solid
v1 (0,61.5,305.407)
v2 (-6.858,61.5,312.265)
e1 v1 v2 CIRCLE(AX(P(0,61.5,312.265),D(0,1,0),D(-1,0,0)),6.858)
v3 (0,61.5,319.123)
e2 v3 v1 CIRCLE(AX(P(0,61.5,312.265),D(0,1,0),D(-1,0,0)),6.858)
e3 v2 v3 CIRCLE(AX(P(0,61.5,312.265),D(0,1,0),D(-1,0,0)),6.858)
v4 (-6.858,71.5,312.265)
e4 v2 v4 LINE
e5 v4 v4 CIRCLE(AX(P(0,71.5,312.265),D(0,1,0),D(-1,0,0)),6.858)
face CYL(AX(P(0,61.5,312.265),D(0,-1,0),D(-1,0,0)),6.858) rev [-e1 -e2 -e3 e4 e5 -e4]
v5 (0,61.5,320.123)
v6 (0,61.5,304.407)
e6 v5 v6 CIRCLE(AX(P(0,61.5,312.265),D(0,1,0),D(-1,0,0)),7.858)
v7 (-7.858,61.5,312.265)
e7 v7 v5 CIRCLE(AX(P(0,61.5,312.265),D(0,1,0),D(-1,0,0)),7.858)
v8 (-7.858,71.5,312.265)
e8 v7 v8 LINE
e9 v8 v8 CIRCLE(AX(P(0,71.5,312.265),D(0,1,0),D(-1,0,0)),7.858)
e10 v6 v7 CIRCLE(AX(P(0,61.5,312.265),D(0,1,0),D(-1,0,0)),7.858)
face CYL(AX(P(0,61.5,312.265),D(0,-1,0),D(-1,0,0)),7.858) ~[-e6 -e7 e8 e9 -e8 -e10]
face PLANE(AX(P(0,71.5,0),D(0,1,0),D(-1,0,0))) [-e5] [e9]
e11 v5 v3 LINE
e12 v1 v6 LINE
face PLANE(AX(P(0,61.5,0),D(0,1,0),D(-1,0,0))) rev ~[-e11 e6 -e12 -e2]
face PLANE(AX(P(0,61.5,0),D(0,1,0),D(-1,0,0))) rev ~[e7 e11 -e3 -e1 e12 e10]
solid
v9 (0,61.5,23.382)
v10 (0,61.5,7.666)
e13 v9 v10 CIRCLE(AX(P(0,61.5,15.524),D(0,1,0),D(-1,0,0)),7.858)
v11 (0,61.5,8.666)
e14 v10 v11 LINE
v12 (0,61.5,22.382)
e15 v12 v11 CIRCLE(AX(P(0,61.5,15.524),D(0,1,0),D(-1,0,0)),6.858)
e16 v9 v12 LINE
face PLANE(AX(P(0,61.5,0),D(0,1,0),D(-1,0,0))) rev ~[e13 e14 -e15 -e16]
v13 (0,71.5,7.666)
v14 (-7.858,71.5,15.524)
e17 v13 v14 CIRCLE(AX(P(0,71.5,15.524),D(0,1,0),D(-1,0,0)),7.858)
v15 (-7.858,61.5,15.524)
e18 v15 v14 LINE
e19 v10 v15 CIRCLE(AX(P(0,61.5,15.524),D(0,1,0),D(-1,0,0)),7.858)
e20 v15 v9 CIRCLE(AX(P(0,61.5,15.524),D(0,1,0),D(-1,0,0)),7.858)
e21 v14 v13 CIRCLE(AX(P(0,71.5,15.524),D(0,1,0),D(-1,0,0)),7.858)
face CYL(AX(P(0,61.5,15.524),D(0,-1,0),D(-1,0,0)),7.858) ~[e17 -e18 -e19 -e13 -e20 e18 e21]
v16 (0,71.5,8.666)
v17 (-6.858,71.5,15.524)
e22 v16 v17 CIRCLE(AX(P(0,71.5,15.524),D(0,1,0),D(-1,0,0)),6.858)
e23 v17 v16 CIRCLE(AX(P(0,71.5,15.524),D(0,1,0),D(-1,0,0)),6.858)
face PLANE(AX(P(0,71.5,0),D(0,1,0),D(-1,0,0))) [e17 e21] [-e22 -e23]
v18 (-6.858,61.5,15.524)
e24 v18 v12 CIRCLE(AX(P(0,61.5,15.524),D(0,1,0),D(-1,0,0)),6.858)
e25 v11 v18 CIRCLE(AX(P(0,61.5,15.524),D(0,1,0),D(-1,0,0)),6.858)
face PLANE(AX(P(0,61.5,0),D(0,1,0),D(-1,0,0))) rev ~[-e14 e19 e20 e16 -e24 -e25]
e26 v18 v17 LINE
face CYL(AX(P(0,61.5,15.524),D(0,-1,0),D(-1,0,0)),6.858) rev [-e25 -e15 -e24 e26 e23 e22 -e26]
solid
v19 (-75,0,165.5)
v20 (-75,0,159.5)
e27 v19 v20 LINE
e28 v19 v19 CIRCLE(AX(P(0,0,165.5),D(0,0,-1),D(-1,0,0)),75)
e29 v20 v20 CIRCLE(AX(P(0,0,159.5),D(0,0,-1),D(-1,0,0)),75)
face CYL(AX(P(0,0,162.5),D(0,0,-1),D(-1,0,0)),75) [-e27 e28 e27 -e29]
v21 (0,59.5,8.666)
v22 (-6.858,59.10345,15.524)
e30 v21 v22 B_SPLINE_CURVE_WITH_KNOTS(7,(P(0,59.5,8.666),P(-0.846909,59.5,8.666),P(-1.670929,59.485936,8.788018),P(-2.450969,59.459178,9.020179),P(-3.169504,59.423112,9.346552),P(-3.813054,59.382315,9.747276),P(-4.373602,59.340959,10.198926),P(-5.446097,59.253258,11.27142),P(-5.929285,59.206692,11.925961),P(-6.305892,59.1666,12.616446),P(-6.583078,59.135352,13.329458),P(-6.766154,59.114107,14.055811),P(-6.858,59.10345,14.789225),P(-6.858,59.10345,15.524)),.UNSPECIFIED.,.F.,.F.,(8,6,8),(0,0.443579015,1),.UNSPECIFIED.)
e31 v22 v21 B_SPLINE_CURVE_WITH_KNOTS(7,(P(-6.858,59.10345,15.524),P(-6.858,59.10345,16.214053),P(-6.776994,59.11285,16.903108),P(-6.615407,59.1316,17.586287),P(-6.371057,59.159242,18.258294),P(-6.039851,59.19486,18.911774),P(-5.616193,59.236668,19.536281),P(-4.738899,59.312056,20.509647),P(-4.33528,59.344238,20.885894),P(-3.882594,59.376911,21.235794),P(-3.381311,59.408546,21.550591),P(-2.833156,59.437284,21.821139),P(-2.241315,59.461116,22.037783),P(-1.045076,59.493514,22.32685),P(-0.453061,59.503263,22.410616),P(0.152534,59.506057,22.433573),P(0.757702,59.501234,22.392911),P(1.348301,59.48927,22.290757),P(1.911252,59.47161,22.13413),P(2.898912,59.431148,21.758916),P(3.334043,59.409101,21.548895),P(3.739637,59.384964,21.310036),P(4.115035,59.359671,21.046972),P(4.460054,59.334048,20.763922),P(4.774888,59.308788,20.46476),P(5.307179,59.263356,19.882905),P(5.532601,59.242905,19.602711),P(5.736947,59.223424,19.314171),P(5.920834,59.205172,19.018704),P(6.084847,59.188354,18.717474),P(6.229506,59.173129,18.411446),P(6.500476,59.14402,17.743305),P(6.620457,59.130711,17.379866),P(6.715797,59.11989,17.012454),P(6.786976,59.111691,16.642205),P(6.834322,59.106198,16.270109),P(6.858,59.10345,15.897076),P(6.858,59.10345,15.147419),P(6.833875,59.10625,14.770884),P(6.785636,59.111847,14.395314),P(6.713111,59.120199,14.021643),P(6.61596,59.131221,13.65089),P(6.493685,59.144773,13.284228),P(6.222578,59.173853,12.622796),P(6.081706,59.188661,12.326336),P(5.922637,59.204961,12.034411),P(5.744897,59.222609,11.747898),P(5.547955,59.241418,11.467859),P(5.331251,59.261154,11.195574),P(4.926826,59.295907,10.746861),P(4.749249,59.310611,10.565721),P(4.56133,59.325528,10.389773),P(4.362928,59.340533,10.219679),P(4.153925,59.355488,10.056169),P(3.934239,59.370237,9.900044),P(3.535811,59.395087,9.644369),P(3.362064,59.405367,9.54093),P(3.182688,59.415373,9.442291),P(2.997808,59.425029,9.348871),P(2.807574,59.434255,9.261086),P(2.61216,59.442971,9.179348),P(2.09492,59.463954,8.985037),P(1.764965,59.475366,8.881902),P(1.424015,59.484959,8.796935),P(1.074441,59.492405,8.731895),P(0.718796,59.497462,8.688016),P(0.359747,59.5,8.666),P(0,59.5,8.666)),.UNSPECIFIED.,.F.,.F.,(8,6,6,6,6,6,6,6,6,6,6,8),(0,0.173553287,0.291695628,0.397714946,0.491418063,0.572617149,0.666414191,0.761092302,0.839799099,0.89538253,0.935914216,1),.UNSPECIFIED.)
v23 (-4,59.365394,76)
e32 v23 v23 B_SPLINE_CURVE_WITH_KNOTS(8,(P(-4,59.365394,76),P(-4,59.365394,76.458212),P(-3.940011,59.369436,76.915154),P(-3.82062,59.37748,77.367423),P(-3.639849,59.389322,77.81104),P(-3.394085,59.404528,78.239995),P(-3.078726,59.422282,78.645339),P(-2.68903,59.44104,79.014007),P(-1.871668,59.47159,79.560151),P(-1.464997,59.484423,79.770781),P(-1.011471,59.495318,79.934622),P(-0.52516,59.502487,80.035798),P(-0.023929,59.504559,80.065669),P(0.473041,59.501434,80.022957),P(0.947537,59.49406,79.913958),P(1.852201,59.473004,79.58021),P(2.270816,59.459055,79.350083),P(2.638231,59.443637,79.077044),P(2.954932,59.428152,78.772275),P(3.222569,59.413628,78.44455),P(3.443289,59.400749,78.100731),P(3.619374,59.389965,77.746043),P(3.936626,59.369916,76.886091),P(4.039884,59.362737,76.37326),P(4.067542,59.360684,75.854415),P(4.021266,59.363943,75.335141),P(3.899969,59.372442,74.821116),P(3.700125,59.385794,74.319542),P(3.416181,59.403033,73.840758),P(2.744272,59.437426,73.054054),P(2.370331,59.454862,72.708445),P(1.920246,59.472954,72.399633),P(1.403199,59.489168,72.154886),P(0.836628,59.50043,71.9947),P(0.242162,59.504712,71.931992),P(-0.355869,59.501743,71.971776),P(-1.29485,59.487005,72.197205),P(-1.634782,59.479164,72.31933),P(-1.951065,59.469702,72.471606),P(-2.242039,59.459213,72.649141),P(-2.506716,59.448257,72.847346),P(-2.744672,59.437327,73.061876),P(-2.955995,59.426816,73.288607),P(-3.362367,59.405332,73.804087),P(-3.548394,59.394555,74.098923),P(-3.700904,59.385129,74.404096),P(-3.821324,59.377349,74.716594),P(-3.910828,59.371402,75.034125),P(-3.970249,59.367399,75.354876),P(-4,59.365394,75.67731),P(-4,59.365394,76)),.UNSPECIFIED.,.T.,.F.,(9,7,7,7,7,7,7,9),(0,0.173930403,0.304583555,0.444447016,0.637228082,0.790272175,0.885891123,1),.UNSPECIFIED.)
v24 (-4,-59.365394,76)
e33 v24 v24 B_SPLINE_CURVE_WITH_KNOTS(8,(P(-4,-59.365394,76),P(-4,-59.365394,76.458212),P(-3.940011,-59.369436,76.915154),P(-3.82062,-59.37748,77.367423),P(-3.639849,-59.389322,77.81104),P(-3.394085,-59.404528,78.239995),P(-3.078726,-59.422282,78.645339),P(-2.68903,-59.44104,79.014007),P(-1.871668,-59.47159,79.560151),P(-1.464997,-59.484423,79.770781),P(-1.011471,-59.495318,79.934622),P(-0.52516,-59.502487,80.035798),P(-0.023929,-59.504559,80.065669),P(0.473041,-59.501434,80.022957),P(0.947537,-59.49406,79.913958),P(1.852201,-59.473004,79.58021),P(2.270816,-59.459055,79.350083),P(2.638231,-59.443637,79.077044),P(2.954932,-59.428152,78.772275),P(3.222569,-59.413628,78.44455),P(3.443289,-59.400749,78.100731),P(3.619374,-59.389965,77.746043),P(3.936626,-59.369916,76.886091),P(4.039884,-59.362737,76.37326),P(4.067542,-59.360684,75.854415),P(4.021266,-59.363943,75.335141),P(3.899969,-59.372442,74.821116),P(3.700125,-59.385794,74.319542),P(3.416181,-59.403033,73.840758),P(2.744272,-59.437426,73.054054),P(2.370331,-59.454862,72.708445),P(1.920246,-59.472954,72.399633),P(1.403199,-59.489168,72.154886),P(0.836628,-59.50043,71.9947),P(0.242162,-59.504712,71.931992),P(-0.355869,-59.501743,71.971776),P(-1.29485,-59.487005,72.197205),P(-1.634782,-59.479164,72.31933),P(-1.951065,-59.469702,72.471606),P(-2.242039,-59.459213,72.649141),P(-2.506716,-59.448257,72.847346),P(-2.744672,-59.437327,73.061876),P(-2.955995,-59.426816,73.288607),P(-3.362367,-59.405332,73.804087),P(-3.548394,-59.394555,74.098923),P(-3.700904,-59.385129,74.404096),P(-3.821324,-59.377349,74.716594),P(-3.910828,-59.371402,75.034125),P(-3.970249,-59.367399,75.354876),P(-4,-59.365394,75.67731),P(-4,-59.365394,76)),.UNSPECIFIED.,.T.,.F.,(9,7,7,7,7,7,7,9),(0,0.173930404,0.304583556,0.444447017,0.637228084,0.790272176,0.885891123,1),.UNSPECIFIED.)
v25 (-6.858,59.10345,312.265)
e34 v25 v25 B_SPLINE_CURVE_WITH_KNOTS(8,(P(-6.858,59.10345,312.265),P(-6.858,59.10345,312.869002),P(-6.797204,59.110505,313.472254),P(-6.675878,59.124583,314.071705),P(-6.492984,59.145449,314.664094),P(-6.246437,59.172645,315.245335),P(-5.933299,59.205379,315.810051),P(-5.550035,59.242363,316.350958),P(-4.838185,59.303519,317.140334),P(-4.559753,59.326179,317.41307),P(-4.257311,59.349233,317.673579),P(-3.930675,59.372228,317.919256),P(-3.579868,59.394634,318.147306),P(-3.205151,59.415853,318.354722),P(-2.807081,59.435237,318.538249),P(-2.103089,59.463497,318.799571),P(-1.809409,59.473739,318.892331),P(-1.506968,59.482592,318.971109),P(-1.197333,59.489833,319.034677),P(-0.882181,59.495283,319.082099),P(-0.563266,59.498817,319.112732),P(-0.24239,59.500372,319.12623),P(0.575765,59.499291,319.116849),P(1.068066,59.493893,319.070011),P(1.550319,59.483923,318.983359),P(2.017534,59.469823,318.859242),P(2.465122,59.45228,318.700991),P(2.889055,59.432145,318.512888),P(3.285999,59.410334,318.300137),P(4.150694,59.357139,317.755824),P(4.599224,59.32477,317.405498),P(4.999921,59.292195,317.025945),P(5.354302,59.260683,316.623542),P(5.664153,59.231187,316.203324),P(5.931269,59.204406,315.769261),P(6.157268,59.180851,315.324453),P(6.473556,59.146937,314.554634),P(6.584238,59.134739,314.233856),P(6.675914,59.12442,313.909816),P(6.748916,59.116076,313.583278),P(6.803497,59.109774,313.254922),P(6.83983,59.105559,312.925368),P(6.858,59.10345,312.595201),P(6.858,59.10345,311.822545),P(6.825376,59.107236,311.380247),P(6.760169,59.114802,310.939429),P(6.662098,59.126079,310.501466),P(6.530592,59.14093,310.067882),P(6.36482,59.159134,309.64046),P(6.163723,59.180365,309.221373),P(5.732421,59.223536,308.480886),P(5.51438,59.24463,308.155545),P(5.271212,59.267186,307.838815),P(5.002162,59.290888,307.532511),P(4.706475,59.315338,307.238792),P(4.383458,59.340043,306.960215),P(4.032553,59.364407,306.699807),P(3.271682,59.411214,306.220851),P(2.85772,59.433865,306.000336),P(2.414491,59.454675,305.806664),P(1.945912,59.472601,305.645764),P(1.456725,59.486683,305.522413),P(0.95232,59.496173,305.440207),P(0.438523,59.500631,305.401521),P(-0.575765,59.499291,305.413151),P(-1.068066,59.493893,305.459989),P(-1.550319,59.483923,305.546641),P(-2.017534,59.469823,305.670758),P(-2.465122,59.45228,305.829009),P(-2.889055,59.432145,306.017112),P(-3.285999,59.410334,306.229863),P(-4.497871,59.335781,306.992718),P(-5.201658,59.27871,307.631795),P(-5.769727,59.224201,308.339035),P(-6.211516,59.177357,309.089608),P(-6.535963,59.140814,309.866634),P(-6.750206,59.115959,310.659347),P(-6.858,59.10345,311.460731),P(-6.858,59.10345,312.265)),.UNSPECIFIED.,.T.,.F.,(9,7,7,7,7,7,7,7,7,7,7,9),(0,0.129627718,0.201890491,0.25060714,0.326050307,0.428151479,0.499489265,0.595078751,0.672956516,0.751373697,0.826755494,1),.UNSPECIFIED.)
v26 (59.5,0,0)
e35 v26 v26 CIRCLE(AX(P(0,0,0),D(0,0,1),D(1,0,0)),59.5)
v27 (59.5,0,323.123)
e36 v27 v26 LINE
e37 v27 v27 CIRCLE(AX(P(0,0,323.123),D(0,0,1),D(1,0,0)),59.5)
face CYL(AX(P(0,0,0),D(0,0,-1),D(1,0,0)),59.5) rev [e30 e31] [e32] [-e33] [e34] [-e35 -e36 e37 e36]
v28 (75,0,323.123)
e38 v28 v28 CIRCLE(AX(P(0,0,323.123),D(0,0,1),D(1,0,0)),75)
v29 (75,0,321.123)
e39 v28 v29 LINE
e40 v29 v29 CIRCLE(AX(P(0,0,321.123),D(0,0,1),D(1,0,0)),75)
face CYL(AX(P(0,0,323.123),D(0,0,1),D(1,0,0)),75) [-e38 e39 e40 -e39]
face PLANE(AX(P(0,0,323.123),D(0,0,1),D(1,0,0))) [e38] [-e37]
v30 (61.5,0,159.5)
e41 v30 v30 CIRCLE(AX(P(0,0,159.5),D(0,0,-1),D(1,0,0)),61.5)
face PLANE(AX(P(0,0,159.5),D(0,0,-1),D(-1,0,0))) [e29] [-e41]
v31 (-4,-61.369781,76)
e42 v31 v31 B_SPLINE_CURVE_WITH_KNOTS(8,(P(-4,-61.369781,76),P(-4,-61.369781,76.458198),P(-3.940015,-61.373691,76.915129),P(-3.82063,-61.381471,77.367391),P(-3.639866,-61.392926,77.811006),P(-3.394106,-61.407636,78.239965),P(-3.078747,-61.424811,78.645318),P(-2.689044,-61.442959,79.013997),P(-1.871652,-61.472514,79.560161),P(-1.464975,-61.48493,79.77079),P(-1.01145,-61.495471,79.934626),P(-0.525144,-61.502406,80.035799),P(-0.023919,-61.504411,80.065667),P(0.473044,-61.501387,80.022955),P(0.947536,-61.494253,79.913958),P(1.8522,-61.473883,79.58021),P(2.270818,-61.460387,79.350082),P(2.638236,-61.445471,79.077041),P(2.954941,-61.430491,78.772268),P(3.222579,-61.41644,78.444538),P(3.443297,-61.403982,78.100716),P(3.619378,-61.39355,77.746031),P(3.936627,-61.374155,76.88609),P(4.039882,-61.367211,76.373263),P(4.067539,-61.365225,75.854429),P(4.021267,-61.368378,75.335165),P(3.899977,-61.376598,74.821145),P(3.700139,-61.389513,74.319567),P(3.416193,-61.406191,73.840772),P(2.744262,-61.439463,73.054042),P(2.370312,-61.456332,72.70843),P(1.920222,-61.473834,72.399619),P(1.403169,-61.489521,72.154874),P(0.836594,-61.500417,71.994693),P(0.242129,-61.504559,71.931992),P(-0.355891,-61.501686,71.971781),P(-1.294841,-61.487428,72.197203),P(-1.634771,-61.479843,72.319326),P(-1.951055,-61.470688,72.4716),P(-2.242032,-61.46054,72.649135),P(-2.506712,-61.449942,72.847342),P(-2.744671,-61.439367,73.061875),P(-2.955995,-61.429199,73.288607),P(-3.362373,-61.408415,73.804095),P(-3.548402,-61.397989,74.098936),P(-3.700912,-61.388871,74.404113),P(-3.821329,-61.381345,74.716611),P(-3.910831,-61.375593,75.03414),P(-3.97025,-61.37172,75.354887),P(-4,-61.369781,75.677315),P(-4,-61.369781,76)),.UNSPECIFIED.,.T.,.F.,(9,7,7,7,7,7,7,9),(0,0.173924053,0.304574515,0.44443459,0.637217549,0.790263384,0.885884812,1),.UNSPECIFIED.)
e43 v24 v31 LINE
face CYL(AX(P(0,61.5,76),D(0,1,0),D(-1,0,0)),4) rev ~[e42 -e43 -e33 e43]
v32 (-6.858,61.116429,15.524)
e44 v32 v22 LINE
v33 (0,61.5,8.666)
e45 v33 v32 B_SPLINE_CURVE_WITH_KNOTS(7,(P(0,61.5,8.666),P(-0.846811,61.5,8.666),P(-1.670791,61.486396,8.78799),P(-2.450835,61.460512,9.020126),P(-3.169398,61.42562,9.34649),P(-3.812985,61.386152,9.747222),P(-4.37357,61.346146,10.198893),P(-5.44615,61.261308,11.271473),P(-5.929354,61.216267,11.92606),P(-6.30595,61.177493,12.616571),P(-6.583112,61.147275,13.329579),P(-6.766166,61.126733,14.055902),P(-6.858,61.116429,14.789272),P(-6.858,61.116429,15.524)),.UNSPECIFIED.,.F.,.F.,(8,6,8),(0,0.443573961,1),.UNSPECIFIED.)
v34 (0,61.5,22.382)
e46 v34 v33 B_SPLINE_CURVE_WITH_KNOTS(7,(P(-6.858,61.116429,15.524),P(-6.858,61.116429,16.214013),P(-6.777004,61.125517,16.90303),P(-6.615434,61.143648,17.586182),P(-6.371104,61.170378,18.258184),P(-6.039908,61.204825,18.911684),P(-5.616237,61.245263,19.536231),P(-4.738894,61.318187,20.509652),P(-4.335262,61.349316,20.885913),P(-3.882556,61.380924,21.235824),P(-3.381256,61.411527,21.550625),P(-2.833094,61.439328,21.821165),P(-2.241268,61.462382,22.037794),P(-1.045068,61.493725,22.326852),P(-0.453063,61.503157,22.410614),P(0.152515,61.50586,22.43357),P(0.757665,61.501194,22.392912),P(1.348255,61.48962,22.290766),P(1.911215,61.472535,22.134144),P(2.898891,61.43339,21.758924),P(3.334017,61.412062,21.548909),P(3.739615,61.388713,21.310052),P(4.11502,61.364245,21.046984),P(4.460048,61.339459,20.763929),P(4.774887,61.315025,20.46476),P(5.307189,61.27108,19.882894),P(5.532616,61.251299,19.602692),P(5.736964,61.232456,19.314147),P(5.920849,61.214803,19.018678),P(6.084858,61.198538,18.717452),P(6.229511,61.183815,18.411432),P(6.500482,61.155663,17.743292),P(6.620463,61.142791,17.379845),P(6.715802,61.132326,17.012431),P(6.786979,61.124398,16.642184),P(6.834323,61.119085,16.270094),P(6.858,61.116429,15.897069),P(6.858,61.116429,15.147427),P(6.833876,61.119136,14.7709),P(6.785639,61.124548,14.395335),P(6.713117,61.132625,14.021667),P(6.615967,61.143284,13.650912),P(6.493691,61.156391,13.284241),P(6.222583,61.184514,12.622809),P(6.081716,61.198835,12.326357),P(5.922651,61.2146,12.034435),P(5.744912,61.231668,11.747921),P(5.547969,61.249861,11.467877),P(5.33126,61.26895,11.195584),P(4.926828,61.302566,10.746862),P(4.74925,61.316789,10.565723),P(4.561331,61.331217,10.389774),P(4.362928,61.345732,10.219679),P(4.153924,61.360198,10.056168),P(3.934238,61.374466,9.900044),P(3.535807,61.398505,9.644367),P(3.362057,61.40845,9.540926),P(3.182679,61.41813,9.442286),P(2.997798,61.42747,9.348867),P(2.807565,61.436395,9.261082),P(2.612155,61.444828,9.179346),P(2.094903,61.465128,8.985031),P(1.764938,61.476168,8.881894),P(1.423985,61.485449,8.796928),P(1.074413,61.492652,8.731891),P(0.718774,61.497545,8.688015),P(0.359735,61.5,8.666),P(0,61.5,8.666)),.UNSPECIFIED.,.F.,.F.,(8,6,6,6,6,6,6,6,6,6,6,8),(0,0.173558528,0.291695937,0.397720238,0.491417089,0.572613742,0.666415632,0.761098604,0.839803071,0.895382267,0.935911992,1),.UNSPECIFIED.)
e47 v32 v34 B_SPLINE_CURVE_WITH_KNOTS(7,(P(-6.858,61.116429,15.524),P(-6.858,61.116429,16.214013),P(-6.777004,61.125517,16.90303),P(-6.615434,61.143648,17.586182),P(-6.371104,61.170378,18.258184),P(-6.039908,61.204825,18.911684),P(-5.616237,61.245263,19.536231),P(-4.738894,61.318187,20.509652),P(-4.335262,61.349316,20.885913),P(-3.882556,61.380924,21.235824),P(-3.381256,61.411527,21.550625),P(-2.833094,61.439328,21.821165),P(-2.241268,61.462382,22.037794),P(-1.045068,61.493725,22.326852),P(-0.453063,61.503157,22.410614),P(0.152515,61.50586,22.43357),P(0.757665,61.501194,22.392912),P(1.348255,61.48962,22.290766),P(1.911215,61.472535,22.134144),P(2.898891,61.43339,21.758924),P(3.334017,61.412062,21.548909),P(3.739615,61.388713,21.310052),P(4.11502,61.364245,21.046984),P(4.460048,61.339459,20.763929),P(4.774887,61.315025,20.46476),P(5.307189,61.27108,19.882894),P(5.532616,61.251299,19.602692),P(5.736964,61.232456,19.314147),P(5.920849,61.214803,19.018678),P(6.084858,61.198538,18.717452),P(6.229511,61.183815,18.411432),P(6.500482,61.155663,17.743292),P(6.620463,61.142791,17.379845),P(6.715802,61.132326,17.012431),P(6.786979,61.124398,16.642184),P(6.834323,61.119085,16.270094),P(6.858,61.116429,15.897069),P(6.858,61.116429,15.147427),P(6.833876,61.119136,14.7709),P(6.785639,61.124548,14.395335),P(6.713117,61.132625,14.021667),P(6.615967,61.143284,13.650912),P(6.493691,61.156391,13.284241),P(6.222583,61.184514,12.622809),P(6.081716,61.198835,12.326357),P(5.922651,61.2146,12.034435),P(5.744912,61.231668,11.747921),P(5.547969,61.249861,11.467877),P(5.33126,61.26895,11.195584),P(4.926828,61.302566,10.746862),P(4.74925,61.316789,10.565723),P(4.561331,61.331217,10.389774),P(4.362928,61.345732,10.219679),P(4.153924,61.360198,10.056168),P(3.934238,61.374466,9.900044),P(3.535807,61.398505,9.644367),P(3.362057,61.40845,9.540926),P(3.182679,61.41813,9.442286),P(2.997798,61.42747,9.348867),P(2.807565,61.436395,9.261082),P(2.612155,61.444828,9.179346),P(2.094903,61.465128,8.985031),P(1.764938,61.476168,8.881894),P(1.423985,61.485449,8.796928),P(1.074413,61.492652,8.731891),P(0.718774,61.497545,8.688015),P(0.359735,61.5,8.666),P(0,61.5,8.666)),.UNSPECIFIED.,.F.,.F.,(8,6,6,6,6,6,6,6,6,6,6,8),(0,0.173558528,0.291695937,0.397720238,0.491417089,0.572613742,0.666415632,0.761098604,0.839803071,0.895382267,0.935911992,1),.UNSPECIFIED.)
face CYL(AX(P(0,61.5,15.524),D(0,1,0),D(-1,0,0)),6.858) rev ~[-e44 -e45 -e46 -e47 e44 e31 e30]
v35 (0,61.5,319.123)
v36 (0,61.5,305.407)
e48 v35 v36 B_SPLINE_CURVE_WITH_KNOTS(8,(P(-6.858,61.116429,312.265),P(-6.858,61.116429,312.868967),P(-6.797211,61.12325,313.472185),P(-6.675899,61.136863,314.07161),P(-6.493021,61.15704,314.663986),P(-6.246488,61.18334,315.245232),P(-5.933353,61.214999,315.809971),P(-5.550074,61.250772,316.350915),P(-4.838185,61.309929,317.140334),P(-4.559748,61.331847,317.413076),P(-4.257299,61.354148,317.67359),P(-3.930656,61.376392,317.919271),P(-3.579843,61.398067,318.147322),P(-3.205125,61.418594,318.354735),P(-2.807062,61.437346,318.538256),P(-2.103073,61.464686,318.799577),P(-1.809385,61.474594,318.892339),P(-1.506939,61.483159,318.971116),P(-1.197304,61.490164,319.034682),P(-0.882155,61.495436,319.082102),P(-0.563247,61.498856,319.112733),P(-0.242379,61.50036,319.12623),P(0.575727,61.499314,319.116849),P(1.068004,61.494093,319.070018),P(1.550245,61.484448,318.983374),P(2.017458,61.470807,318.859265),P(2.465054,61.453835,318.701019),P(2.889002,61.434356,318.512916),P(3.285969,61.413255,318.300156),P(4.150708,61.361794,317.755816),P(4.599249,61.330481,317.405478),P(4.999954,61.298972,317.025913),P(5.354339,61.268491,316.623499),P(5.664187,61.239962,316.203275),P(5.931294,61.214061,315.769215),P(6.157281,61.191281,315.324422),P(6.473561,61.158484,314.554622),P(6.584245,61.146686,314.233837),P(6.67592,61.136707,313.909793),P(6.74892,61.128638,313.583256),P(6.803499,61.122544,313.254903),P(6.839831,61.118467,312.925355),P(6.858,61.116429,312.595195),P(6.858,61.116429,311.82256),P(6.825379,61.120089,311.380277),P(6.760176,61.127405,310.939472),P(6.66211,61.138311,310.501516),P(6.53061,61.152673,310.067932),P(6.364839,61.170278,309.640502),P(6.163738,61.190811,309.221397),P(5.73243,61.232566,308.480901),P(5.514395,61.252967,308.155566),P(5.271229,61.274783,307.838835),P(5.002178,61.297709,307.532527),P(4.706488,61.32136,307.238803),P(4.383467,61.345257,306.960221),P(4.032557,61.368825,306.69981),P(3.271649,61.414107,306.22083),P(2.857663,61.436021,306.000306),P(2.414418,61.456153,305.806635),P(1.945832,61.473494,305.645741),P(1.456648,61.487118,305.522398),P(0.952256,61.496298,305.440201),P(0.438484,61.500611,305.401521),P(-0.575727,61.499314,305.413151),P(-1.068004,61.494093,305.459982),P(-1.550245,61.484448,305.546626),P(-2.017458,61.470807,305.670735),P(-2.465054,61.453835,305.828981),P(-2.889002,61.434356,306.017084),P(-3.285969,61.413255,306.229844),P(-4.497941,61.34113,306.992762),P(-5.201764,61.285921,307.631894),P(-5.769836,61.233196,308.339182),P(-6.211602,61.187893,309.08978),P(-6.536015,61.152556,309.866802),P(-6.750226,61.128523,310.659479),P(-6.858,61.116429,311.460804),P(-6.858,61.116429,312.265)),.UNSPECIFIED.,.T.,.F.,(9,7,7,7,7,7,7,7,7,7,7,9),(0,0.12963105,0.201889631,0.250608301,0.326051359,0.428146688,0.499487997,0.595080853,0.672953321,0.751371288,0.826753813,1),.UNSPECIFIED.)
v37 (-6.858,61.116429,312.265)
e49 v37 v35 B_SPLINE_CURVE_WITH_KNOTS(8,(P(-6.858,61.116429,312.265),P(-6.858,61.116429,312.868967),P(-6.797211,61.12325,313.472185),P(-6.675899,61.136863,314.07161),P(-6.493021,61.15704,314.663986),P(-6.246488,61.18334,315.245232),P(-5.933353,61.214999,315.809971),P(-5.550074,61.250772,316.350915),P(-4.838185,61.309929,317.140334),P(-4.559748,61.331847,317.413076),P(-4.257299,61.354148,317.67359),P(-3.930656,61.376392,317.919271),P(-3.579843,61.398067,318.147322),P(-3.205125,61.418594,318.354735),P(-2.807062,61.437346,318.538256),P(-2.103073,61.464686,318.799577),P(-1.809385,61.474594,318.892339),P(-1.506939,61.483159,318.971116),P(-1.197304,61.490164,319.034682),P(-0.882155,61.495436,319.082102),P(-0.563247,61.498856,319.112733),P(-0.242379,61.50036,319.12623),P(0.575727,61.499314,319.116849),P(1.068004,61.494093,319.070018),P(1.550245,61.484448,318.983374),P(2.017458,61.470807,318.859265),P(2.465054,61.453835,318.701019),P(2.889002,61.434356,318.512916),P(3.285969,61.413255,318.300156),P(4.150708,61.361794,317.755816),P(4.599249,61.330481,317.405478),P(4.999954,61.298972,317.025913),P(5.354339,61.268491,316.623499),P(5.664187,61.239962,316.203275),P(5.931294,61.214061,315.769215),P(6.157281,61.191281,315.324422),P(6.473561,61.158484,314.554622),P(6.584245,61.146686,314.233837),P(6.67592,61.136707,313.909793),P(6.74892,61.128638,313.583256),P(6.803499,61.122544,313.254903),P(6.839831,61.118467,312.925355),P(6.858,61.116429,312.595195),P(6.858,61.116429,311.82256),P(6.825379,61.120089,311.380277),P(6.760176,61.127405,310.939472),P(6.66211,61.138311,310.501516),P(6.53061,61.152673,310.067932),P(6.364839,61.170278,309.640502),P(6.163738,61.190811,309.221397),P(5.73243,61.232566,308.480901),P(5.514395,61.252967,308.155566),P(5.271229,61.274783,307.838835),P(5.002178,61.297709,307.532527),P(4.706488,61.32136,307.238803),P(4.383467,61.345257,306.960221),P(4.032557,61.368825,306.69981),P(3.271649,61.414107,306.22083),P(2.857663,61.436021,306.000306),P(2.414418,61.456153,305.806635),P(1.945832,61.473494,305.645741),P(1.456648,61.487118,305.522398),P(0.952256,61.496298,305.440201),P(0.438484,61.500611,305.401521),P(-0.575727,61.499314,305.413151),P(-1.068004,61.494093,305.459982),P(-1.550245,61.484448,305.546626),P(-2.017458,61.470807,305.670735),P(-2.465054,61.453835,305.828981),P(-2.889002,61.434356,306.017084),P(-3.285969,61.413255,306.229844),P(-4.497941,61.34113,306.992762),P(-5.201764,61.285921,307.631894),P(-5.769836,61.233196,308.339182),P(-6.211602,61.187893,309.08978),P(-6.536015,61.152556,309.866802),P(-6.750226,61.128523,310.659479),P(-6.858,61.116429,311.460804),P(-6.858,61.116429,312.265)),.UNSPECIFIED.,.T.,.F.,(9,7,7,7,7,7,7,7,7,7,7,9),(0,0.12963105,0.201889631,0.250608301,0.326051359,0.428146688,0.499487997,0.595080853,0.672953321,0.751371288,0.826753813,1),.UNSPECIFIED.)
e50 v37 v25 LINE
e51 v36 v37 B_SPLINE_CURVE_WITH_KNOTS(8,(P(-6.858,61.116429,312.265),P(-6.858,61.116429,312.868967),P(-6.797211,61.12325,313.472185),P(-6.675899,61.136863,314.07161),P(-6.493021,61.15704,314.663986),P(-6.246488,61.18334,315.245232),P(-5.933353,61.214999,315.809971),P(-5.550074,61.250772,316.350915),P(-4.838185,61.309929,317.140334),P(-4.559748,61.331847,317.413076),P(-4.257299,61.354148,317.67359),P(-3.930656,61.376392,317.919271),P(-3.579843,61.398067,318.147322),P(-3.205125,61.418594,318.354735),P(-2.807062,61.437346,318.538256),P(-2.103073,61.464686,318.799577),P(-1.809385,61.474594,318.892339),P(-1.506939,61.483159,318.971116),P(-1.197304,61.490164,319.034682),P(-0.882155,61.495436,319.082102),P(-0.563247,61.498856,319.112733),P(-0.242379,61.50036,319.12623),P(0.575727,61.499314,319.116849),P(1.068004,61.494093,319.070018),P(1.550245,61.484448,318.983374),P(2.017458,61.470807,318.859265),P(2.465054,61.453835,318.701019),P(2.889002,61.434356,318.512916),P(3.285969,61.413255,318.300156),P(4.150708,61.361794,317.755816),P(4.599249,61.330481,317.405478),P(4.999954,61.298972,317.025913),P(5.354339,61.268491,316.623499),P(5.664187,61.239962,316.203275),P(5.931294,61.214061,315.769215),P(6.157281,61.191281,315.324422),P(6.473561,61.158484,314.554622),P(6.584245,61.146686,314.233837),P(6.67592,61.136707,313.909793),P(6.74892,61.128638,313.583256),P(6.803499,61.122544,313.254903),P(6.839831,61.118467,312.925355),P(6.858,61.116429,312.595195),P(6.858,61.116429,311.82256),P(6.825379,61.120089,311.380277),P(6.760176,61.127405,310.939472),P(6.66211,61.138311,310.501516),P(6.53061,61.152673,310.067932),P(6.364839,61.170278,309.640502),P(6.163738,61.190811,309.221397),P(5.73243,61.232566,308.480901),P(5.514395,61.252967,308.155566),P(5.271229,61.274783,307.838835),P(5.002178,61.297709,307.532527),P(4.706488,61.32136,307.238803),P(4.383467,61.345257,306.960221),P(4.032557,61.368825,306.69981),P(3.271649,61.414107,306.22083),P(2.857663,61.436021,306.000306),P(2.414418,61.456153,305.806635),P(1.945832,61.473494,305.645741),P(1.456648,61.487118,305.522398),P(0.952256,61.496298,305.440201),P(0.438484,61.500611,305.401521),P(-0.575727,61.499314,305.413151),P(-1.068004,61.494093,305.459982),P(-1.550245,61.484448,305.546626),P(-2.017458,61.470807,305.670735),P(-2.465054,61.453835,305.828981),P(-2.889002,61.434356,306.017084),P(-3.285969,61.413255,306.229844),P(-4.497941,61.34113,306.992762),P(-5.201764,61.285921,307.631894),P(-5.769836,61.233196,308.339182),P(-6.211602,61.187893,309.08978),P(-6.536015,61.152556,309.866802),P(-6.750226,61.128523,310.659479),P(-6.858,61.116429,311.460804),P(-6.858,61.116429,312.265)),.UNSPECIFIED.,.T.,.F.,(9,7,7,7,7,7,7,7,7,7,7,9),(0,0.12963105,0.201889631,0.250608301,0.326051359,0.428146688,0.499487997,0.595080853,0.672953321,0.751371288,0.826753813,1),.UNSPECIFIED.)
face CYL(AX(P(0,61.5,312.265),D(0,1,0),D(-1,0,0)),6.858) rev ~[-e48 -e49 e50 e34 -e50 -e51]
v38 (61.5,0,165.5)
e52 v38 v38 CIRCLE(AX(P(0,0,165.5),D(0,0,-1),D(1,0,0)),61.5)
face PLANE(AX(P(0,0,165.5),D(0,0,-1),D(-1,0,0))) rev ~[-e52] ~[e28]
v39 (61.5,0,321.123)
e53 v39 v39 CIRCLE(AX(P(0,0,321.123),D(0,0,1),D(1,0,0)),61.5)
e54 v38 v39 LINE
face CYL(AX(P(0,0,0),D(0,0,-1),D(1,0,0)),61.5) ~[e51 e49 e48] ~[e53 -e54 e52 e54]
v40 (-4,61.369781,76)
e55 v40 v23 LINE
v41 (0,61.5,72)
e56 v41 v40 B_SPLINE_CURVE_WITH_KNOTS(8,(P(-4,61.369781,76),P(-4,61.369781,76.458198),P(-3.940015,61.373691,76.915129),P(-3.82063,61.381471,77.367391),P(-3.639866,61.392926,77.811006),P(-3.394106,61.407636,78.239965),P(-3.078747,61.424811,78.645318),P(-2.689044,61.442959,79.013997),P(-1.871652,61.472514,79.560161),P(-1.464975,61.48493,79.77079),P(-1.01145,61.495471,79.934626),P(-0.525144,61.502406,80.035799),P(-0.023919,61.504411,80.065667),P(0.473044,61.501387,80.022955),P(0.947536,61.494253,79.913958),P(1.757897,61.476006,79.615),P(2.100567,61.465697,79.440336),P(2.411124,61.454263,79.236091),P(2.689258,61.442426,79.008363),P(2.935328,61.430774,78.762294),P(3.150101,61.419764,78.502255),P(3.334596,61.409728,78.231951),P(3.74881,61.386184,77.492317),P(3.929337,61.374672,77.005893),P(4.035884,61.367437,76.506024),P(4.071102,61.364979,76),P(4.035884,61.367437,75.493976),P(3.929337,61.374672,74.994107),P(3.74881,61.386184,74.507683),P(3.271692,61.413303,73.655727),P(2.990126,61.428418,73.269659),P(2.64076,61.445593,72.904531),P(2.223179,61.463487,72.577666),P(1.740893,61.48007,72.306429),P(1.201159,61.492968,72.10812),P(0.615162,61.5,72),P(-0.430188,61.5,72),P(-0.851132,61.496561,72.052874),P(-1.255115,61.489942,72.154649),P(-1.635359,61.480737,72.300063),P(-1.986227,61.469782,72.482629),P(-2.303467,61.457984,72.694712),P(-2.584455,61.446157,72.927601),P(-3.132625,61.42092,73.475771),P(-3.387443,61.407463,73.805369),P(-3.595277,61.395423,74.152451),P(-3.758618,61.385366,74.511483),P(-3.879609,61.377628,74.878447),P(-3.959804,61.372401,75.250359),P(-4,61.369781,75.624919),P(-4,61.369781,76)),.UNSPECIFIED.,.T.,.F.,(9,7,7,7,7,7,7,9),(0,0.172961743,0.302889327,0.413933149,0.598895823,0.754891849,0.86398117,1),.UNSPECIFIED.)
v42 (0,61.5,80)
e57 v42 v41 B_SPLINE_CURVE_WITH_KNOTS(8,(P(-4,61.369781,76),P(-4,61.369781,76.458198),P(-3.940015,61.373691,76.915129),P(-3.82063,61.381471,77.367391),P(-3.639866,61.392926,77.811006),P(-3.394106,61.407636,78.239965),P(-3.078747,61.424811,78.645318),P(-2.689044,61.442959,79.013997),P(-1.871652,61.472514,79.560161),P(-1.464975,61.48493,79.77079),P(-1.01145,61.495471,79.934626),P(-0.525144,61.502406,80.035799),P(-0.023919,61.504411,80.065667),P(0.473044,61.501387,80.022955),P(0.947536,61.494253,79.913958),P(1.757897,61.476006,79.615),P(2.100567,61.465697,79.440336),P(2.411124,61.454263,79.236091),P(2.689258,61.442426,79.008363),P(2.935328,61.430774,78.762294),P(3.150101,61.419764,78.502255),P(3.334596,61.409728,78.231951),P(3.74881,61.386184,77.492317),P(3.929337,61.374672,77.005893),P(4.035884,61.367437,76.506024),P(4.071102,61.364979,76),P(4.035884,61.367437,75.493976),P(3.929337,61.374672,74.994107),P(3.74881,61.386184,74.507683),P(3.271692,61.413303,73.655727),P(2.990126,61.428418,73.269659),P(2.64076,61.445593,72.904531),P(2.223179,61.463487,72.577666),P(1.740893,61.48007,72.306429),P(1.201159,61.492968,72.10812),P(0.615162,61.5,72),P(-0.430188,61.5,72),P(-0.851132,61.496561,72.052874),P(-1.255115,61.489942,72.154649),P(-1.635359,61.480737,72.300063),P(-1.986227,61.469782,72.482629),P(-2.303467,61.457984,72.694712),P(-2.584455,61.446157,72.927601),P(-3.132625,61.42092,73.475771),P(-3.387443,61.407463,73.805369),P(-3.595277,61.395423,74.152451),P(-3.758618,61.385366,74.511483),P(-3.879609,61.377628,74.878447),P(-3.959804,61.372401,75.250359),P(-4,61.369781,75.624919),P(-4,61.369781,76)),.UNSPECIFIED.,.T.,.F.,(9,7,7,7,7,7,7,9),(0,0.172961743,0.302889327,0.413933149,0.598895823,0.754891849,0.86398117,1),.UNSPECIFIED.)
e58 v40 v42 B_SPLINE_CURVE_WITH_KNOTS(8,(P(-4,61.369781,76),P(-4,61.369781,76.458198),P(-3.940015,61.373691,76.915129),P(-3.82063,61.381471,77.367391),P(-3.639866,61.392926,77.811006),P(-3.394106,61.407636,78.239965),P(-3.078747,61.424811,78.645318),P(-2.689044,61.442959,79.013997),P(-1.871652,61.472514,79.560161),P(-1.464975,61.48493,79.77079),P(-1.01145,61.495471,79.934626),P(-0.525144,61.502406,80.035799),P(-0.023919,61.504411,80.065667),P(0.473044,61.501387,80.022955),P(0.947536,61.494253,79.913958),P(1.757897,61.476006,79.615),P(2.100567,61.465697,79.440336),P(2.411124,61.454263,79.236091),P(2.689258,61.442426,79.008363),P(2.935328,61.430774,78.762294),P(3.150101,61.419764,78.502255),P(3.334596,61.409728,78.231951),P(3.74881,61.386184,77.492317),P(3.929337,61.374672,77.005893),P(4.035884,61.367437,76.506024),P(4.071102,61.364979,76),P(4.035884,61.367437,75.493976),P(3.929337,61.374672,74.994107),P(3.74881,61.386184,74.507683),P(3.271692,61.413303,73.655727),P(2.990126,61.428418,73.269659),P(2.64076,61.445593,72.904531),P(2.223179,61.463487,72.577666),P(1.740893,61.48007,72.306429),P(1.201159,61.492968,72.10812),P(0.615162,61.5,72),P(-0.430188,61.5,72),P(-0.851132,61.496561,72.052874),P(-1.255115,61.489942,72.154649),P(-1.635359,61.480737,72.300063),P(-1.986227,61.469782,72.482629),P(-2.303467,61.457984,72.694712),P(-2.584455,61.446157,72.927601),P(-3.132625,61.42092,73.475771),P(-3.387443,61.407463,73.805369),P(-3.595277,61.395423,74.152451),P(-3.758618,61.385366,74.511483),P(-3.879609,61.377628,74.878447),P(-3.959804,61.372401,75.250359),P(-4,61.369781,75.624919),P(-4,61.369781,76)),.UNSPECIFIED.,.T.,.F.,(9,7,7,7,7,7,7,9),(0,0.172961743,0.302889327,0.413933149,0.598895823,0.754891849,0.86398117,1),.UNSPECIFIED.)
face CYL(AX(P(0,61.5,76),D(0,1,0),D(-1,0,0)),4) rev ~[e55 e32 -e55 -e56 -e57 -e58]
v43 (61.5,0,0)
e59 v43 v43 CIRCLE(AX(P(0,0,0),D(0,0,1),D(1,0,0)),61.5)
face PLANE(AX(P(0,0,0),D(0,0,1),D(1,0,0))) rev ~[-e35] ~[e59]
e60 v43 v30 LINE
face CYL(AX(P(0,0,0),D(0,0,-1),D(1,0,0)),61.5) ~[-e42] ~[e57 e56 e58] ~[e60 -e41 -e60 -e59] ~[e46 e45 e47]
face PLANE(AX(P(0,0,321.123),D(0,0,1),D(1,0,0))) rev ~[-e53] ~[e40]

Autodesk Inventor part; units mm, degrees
ref_plane "YZ Plane" through (0, 0, 0) normal (1, 0, 0) x (0, 1, 0)
ref_plane "XY Plane" through (0, 0, 0) normal (0, 0, 1) x (1, 0, 0)
sketch "Sketch1" plane through (0, 0, 0) normal (0, 0, 1) x (1, 0, 0)
  circle A0 centre (0, 0) radius 59.5
  circle A1 centre (0, 0) radius 61.5
  dimension "d0" = 119
  dimension "d1" = 123
extrude "Extrusion1" add sketch "Sketch1" along normal blind 323.123
ref_plane "Work Plane1" through (0, 61.5, 0) normal (0, 1, 0) x (-1, 0, 0)
sketch "Sketch2" plane through (0, 61.5, 0) normal (0, 1, 0) x (-1, 0, 0)
  line L0 (61.5, 0) -> (-61.5, 0) projected
  line L1 (0, 0) -> (0, 4)
  line L2 (0, 4) -> (0, 8.666)
  circle A0 centre (0, 15.524) radius 6.858
  circle A1 centre (0, 15.524) radius 7.858
  dimension "d6" = 4
  dimension "d7" = 4.666
  dimension "d8" = 13.716
  dimension "d9" = 6.858
  dimension "d33" = 15.716
extrude "Extrusion2" cut sketch "Sketch2" against normal blind 23 contours A0
sketch "Sketch3" plane through (0, 61.5, 0) normal (0, 1, 0) x (-1, 0, 0)
  line L0 (0, 0) -> (0, 323.123) construction
  line L1 (-59.5, 323.123) -> (59.5, 323.123) projected
  line L2 (0, 323.123) -> (0, 315.123) construction
  circle A0 centre (0, 312.265) radius 6.858
  circle A1 centre (0, 312.265) radius 7.858
  point P0 (0, 319.123)
  dimension "d12" = 8
  dimension "d13" = 13.716
  dimension "d14" = 6.858
  dimension "d36" = 15.716
extrude "Extrusion3" cut sketch "Sketch3" against normal blind 3 contours A0
thread "Thread1" size "M14x1.25" class "6H" standard "ANSI Metric M Profile" full length
thread "Thread2" size "M14x1.25" class "6H" standard "ANSI Metric M Profile" full length
sketch "Sketch4" plane through (0, 61.5, 0) normal (0, 1, 0) x (-1, 0, 0)
  point P0 (0, 0)
sketch "Sketch5" plane through (0, 61.5, 0) normal (0, 1, 0) x (-1, 0, 0)
  line L0 (0, 0) -> (0, 76) construction
  circle A0 centre (0, 76) radius 4
  dimension "d21" = 76
  dimension "d22" = 8
extrude "Extrusion4" cut sketch "Sketch5" against normal through all
thread "Thread3" size "M8x1.25" class "6H" standard "ANSI Metric M Profile" full length
thread "Thread4" size "M8x1.25" class "6H" standard "ANSI Metric M Profile" full length
sketch "Sketch6" plane through (0, 0, 323.123) normal (0, 0, 1) x (1, 0, 0)
  circle A0 centre (0, 0) radius 75
  circle A1 centre (0, 0) radius 61.5
  dimension "d29" = 150
  dimension "d30" = 123
extrude "Extrusion5" add sketch "Sketch6" against normal blind 2
extrude "Extrusion6" add sketch "Sketch2" along normal blind 10
extrude "Extrusion7" add sketch "Sketch3" along normal blind 10
ref_plane "Work Plane2" through (0, 0, 162.5) normal (0, 0, -1) x (-1, 0, 0)
sketch "Sketch7" plane through (0, 0, 162.5) normal (0, 0, -1) x (-1, 0, 0)
  circle A0 centre (0, 0) radius 75
  circle A1 centre (0, 0) radius 59.5 projected
  circle A2 centre (0, 0) radius 59.5
  dimension "d40" = 150
extrude "Extrusion10" add sketch "Sketch7" along normal blind 3
extrude "Extrusion11" add sketch "Sketch7" against normal blind 3
properties part number "aluminium outer wall" material "Aluminum 6061"
